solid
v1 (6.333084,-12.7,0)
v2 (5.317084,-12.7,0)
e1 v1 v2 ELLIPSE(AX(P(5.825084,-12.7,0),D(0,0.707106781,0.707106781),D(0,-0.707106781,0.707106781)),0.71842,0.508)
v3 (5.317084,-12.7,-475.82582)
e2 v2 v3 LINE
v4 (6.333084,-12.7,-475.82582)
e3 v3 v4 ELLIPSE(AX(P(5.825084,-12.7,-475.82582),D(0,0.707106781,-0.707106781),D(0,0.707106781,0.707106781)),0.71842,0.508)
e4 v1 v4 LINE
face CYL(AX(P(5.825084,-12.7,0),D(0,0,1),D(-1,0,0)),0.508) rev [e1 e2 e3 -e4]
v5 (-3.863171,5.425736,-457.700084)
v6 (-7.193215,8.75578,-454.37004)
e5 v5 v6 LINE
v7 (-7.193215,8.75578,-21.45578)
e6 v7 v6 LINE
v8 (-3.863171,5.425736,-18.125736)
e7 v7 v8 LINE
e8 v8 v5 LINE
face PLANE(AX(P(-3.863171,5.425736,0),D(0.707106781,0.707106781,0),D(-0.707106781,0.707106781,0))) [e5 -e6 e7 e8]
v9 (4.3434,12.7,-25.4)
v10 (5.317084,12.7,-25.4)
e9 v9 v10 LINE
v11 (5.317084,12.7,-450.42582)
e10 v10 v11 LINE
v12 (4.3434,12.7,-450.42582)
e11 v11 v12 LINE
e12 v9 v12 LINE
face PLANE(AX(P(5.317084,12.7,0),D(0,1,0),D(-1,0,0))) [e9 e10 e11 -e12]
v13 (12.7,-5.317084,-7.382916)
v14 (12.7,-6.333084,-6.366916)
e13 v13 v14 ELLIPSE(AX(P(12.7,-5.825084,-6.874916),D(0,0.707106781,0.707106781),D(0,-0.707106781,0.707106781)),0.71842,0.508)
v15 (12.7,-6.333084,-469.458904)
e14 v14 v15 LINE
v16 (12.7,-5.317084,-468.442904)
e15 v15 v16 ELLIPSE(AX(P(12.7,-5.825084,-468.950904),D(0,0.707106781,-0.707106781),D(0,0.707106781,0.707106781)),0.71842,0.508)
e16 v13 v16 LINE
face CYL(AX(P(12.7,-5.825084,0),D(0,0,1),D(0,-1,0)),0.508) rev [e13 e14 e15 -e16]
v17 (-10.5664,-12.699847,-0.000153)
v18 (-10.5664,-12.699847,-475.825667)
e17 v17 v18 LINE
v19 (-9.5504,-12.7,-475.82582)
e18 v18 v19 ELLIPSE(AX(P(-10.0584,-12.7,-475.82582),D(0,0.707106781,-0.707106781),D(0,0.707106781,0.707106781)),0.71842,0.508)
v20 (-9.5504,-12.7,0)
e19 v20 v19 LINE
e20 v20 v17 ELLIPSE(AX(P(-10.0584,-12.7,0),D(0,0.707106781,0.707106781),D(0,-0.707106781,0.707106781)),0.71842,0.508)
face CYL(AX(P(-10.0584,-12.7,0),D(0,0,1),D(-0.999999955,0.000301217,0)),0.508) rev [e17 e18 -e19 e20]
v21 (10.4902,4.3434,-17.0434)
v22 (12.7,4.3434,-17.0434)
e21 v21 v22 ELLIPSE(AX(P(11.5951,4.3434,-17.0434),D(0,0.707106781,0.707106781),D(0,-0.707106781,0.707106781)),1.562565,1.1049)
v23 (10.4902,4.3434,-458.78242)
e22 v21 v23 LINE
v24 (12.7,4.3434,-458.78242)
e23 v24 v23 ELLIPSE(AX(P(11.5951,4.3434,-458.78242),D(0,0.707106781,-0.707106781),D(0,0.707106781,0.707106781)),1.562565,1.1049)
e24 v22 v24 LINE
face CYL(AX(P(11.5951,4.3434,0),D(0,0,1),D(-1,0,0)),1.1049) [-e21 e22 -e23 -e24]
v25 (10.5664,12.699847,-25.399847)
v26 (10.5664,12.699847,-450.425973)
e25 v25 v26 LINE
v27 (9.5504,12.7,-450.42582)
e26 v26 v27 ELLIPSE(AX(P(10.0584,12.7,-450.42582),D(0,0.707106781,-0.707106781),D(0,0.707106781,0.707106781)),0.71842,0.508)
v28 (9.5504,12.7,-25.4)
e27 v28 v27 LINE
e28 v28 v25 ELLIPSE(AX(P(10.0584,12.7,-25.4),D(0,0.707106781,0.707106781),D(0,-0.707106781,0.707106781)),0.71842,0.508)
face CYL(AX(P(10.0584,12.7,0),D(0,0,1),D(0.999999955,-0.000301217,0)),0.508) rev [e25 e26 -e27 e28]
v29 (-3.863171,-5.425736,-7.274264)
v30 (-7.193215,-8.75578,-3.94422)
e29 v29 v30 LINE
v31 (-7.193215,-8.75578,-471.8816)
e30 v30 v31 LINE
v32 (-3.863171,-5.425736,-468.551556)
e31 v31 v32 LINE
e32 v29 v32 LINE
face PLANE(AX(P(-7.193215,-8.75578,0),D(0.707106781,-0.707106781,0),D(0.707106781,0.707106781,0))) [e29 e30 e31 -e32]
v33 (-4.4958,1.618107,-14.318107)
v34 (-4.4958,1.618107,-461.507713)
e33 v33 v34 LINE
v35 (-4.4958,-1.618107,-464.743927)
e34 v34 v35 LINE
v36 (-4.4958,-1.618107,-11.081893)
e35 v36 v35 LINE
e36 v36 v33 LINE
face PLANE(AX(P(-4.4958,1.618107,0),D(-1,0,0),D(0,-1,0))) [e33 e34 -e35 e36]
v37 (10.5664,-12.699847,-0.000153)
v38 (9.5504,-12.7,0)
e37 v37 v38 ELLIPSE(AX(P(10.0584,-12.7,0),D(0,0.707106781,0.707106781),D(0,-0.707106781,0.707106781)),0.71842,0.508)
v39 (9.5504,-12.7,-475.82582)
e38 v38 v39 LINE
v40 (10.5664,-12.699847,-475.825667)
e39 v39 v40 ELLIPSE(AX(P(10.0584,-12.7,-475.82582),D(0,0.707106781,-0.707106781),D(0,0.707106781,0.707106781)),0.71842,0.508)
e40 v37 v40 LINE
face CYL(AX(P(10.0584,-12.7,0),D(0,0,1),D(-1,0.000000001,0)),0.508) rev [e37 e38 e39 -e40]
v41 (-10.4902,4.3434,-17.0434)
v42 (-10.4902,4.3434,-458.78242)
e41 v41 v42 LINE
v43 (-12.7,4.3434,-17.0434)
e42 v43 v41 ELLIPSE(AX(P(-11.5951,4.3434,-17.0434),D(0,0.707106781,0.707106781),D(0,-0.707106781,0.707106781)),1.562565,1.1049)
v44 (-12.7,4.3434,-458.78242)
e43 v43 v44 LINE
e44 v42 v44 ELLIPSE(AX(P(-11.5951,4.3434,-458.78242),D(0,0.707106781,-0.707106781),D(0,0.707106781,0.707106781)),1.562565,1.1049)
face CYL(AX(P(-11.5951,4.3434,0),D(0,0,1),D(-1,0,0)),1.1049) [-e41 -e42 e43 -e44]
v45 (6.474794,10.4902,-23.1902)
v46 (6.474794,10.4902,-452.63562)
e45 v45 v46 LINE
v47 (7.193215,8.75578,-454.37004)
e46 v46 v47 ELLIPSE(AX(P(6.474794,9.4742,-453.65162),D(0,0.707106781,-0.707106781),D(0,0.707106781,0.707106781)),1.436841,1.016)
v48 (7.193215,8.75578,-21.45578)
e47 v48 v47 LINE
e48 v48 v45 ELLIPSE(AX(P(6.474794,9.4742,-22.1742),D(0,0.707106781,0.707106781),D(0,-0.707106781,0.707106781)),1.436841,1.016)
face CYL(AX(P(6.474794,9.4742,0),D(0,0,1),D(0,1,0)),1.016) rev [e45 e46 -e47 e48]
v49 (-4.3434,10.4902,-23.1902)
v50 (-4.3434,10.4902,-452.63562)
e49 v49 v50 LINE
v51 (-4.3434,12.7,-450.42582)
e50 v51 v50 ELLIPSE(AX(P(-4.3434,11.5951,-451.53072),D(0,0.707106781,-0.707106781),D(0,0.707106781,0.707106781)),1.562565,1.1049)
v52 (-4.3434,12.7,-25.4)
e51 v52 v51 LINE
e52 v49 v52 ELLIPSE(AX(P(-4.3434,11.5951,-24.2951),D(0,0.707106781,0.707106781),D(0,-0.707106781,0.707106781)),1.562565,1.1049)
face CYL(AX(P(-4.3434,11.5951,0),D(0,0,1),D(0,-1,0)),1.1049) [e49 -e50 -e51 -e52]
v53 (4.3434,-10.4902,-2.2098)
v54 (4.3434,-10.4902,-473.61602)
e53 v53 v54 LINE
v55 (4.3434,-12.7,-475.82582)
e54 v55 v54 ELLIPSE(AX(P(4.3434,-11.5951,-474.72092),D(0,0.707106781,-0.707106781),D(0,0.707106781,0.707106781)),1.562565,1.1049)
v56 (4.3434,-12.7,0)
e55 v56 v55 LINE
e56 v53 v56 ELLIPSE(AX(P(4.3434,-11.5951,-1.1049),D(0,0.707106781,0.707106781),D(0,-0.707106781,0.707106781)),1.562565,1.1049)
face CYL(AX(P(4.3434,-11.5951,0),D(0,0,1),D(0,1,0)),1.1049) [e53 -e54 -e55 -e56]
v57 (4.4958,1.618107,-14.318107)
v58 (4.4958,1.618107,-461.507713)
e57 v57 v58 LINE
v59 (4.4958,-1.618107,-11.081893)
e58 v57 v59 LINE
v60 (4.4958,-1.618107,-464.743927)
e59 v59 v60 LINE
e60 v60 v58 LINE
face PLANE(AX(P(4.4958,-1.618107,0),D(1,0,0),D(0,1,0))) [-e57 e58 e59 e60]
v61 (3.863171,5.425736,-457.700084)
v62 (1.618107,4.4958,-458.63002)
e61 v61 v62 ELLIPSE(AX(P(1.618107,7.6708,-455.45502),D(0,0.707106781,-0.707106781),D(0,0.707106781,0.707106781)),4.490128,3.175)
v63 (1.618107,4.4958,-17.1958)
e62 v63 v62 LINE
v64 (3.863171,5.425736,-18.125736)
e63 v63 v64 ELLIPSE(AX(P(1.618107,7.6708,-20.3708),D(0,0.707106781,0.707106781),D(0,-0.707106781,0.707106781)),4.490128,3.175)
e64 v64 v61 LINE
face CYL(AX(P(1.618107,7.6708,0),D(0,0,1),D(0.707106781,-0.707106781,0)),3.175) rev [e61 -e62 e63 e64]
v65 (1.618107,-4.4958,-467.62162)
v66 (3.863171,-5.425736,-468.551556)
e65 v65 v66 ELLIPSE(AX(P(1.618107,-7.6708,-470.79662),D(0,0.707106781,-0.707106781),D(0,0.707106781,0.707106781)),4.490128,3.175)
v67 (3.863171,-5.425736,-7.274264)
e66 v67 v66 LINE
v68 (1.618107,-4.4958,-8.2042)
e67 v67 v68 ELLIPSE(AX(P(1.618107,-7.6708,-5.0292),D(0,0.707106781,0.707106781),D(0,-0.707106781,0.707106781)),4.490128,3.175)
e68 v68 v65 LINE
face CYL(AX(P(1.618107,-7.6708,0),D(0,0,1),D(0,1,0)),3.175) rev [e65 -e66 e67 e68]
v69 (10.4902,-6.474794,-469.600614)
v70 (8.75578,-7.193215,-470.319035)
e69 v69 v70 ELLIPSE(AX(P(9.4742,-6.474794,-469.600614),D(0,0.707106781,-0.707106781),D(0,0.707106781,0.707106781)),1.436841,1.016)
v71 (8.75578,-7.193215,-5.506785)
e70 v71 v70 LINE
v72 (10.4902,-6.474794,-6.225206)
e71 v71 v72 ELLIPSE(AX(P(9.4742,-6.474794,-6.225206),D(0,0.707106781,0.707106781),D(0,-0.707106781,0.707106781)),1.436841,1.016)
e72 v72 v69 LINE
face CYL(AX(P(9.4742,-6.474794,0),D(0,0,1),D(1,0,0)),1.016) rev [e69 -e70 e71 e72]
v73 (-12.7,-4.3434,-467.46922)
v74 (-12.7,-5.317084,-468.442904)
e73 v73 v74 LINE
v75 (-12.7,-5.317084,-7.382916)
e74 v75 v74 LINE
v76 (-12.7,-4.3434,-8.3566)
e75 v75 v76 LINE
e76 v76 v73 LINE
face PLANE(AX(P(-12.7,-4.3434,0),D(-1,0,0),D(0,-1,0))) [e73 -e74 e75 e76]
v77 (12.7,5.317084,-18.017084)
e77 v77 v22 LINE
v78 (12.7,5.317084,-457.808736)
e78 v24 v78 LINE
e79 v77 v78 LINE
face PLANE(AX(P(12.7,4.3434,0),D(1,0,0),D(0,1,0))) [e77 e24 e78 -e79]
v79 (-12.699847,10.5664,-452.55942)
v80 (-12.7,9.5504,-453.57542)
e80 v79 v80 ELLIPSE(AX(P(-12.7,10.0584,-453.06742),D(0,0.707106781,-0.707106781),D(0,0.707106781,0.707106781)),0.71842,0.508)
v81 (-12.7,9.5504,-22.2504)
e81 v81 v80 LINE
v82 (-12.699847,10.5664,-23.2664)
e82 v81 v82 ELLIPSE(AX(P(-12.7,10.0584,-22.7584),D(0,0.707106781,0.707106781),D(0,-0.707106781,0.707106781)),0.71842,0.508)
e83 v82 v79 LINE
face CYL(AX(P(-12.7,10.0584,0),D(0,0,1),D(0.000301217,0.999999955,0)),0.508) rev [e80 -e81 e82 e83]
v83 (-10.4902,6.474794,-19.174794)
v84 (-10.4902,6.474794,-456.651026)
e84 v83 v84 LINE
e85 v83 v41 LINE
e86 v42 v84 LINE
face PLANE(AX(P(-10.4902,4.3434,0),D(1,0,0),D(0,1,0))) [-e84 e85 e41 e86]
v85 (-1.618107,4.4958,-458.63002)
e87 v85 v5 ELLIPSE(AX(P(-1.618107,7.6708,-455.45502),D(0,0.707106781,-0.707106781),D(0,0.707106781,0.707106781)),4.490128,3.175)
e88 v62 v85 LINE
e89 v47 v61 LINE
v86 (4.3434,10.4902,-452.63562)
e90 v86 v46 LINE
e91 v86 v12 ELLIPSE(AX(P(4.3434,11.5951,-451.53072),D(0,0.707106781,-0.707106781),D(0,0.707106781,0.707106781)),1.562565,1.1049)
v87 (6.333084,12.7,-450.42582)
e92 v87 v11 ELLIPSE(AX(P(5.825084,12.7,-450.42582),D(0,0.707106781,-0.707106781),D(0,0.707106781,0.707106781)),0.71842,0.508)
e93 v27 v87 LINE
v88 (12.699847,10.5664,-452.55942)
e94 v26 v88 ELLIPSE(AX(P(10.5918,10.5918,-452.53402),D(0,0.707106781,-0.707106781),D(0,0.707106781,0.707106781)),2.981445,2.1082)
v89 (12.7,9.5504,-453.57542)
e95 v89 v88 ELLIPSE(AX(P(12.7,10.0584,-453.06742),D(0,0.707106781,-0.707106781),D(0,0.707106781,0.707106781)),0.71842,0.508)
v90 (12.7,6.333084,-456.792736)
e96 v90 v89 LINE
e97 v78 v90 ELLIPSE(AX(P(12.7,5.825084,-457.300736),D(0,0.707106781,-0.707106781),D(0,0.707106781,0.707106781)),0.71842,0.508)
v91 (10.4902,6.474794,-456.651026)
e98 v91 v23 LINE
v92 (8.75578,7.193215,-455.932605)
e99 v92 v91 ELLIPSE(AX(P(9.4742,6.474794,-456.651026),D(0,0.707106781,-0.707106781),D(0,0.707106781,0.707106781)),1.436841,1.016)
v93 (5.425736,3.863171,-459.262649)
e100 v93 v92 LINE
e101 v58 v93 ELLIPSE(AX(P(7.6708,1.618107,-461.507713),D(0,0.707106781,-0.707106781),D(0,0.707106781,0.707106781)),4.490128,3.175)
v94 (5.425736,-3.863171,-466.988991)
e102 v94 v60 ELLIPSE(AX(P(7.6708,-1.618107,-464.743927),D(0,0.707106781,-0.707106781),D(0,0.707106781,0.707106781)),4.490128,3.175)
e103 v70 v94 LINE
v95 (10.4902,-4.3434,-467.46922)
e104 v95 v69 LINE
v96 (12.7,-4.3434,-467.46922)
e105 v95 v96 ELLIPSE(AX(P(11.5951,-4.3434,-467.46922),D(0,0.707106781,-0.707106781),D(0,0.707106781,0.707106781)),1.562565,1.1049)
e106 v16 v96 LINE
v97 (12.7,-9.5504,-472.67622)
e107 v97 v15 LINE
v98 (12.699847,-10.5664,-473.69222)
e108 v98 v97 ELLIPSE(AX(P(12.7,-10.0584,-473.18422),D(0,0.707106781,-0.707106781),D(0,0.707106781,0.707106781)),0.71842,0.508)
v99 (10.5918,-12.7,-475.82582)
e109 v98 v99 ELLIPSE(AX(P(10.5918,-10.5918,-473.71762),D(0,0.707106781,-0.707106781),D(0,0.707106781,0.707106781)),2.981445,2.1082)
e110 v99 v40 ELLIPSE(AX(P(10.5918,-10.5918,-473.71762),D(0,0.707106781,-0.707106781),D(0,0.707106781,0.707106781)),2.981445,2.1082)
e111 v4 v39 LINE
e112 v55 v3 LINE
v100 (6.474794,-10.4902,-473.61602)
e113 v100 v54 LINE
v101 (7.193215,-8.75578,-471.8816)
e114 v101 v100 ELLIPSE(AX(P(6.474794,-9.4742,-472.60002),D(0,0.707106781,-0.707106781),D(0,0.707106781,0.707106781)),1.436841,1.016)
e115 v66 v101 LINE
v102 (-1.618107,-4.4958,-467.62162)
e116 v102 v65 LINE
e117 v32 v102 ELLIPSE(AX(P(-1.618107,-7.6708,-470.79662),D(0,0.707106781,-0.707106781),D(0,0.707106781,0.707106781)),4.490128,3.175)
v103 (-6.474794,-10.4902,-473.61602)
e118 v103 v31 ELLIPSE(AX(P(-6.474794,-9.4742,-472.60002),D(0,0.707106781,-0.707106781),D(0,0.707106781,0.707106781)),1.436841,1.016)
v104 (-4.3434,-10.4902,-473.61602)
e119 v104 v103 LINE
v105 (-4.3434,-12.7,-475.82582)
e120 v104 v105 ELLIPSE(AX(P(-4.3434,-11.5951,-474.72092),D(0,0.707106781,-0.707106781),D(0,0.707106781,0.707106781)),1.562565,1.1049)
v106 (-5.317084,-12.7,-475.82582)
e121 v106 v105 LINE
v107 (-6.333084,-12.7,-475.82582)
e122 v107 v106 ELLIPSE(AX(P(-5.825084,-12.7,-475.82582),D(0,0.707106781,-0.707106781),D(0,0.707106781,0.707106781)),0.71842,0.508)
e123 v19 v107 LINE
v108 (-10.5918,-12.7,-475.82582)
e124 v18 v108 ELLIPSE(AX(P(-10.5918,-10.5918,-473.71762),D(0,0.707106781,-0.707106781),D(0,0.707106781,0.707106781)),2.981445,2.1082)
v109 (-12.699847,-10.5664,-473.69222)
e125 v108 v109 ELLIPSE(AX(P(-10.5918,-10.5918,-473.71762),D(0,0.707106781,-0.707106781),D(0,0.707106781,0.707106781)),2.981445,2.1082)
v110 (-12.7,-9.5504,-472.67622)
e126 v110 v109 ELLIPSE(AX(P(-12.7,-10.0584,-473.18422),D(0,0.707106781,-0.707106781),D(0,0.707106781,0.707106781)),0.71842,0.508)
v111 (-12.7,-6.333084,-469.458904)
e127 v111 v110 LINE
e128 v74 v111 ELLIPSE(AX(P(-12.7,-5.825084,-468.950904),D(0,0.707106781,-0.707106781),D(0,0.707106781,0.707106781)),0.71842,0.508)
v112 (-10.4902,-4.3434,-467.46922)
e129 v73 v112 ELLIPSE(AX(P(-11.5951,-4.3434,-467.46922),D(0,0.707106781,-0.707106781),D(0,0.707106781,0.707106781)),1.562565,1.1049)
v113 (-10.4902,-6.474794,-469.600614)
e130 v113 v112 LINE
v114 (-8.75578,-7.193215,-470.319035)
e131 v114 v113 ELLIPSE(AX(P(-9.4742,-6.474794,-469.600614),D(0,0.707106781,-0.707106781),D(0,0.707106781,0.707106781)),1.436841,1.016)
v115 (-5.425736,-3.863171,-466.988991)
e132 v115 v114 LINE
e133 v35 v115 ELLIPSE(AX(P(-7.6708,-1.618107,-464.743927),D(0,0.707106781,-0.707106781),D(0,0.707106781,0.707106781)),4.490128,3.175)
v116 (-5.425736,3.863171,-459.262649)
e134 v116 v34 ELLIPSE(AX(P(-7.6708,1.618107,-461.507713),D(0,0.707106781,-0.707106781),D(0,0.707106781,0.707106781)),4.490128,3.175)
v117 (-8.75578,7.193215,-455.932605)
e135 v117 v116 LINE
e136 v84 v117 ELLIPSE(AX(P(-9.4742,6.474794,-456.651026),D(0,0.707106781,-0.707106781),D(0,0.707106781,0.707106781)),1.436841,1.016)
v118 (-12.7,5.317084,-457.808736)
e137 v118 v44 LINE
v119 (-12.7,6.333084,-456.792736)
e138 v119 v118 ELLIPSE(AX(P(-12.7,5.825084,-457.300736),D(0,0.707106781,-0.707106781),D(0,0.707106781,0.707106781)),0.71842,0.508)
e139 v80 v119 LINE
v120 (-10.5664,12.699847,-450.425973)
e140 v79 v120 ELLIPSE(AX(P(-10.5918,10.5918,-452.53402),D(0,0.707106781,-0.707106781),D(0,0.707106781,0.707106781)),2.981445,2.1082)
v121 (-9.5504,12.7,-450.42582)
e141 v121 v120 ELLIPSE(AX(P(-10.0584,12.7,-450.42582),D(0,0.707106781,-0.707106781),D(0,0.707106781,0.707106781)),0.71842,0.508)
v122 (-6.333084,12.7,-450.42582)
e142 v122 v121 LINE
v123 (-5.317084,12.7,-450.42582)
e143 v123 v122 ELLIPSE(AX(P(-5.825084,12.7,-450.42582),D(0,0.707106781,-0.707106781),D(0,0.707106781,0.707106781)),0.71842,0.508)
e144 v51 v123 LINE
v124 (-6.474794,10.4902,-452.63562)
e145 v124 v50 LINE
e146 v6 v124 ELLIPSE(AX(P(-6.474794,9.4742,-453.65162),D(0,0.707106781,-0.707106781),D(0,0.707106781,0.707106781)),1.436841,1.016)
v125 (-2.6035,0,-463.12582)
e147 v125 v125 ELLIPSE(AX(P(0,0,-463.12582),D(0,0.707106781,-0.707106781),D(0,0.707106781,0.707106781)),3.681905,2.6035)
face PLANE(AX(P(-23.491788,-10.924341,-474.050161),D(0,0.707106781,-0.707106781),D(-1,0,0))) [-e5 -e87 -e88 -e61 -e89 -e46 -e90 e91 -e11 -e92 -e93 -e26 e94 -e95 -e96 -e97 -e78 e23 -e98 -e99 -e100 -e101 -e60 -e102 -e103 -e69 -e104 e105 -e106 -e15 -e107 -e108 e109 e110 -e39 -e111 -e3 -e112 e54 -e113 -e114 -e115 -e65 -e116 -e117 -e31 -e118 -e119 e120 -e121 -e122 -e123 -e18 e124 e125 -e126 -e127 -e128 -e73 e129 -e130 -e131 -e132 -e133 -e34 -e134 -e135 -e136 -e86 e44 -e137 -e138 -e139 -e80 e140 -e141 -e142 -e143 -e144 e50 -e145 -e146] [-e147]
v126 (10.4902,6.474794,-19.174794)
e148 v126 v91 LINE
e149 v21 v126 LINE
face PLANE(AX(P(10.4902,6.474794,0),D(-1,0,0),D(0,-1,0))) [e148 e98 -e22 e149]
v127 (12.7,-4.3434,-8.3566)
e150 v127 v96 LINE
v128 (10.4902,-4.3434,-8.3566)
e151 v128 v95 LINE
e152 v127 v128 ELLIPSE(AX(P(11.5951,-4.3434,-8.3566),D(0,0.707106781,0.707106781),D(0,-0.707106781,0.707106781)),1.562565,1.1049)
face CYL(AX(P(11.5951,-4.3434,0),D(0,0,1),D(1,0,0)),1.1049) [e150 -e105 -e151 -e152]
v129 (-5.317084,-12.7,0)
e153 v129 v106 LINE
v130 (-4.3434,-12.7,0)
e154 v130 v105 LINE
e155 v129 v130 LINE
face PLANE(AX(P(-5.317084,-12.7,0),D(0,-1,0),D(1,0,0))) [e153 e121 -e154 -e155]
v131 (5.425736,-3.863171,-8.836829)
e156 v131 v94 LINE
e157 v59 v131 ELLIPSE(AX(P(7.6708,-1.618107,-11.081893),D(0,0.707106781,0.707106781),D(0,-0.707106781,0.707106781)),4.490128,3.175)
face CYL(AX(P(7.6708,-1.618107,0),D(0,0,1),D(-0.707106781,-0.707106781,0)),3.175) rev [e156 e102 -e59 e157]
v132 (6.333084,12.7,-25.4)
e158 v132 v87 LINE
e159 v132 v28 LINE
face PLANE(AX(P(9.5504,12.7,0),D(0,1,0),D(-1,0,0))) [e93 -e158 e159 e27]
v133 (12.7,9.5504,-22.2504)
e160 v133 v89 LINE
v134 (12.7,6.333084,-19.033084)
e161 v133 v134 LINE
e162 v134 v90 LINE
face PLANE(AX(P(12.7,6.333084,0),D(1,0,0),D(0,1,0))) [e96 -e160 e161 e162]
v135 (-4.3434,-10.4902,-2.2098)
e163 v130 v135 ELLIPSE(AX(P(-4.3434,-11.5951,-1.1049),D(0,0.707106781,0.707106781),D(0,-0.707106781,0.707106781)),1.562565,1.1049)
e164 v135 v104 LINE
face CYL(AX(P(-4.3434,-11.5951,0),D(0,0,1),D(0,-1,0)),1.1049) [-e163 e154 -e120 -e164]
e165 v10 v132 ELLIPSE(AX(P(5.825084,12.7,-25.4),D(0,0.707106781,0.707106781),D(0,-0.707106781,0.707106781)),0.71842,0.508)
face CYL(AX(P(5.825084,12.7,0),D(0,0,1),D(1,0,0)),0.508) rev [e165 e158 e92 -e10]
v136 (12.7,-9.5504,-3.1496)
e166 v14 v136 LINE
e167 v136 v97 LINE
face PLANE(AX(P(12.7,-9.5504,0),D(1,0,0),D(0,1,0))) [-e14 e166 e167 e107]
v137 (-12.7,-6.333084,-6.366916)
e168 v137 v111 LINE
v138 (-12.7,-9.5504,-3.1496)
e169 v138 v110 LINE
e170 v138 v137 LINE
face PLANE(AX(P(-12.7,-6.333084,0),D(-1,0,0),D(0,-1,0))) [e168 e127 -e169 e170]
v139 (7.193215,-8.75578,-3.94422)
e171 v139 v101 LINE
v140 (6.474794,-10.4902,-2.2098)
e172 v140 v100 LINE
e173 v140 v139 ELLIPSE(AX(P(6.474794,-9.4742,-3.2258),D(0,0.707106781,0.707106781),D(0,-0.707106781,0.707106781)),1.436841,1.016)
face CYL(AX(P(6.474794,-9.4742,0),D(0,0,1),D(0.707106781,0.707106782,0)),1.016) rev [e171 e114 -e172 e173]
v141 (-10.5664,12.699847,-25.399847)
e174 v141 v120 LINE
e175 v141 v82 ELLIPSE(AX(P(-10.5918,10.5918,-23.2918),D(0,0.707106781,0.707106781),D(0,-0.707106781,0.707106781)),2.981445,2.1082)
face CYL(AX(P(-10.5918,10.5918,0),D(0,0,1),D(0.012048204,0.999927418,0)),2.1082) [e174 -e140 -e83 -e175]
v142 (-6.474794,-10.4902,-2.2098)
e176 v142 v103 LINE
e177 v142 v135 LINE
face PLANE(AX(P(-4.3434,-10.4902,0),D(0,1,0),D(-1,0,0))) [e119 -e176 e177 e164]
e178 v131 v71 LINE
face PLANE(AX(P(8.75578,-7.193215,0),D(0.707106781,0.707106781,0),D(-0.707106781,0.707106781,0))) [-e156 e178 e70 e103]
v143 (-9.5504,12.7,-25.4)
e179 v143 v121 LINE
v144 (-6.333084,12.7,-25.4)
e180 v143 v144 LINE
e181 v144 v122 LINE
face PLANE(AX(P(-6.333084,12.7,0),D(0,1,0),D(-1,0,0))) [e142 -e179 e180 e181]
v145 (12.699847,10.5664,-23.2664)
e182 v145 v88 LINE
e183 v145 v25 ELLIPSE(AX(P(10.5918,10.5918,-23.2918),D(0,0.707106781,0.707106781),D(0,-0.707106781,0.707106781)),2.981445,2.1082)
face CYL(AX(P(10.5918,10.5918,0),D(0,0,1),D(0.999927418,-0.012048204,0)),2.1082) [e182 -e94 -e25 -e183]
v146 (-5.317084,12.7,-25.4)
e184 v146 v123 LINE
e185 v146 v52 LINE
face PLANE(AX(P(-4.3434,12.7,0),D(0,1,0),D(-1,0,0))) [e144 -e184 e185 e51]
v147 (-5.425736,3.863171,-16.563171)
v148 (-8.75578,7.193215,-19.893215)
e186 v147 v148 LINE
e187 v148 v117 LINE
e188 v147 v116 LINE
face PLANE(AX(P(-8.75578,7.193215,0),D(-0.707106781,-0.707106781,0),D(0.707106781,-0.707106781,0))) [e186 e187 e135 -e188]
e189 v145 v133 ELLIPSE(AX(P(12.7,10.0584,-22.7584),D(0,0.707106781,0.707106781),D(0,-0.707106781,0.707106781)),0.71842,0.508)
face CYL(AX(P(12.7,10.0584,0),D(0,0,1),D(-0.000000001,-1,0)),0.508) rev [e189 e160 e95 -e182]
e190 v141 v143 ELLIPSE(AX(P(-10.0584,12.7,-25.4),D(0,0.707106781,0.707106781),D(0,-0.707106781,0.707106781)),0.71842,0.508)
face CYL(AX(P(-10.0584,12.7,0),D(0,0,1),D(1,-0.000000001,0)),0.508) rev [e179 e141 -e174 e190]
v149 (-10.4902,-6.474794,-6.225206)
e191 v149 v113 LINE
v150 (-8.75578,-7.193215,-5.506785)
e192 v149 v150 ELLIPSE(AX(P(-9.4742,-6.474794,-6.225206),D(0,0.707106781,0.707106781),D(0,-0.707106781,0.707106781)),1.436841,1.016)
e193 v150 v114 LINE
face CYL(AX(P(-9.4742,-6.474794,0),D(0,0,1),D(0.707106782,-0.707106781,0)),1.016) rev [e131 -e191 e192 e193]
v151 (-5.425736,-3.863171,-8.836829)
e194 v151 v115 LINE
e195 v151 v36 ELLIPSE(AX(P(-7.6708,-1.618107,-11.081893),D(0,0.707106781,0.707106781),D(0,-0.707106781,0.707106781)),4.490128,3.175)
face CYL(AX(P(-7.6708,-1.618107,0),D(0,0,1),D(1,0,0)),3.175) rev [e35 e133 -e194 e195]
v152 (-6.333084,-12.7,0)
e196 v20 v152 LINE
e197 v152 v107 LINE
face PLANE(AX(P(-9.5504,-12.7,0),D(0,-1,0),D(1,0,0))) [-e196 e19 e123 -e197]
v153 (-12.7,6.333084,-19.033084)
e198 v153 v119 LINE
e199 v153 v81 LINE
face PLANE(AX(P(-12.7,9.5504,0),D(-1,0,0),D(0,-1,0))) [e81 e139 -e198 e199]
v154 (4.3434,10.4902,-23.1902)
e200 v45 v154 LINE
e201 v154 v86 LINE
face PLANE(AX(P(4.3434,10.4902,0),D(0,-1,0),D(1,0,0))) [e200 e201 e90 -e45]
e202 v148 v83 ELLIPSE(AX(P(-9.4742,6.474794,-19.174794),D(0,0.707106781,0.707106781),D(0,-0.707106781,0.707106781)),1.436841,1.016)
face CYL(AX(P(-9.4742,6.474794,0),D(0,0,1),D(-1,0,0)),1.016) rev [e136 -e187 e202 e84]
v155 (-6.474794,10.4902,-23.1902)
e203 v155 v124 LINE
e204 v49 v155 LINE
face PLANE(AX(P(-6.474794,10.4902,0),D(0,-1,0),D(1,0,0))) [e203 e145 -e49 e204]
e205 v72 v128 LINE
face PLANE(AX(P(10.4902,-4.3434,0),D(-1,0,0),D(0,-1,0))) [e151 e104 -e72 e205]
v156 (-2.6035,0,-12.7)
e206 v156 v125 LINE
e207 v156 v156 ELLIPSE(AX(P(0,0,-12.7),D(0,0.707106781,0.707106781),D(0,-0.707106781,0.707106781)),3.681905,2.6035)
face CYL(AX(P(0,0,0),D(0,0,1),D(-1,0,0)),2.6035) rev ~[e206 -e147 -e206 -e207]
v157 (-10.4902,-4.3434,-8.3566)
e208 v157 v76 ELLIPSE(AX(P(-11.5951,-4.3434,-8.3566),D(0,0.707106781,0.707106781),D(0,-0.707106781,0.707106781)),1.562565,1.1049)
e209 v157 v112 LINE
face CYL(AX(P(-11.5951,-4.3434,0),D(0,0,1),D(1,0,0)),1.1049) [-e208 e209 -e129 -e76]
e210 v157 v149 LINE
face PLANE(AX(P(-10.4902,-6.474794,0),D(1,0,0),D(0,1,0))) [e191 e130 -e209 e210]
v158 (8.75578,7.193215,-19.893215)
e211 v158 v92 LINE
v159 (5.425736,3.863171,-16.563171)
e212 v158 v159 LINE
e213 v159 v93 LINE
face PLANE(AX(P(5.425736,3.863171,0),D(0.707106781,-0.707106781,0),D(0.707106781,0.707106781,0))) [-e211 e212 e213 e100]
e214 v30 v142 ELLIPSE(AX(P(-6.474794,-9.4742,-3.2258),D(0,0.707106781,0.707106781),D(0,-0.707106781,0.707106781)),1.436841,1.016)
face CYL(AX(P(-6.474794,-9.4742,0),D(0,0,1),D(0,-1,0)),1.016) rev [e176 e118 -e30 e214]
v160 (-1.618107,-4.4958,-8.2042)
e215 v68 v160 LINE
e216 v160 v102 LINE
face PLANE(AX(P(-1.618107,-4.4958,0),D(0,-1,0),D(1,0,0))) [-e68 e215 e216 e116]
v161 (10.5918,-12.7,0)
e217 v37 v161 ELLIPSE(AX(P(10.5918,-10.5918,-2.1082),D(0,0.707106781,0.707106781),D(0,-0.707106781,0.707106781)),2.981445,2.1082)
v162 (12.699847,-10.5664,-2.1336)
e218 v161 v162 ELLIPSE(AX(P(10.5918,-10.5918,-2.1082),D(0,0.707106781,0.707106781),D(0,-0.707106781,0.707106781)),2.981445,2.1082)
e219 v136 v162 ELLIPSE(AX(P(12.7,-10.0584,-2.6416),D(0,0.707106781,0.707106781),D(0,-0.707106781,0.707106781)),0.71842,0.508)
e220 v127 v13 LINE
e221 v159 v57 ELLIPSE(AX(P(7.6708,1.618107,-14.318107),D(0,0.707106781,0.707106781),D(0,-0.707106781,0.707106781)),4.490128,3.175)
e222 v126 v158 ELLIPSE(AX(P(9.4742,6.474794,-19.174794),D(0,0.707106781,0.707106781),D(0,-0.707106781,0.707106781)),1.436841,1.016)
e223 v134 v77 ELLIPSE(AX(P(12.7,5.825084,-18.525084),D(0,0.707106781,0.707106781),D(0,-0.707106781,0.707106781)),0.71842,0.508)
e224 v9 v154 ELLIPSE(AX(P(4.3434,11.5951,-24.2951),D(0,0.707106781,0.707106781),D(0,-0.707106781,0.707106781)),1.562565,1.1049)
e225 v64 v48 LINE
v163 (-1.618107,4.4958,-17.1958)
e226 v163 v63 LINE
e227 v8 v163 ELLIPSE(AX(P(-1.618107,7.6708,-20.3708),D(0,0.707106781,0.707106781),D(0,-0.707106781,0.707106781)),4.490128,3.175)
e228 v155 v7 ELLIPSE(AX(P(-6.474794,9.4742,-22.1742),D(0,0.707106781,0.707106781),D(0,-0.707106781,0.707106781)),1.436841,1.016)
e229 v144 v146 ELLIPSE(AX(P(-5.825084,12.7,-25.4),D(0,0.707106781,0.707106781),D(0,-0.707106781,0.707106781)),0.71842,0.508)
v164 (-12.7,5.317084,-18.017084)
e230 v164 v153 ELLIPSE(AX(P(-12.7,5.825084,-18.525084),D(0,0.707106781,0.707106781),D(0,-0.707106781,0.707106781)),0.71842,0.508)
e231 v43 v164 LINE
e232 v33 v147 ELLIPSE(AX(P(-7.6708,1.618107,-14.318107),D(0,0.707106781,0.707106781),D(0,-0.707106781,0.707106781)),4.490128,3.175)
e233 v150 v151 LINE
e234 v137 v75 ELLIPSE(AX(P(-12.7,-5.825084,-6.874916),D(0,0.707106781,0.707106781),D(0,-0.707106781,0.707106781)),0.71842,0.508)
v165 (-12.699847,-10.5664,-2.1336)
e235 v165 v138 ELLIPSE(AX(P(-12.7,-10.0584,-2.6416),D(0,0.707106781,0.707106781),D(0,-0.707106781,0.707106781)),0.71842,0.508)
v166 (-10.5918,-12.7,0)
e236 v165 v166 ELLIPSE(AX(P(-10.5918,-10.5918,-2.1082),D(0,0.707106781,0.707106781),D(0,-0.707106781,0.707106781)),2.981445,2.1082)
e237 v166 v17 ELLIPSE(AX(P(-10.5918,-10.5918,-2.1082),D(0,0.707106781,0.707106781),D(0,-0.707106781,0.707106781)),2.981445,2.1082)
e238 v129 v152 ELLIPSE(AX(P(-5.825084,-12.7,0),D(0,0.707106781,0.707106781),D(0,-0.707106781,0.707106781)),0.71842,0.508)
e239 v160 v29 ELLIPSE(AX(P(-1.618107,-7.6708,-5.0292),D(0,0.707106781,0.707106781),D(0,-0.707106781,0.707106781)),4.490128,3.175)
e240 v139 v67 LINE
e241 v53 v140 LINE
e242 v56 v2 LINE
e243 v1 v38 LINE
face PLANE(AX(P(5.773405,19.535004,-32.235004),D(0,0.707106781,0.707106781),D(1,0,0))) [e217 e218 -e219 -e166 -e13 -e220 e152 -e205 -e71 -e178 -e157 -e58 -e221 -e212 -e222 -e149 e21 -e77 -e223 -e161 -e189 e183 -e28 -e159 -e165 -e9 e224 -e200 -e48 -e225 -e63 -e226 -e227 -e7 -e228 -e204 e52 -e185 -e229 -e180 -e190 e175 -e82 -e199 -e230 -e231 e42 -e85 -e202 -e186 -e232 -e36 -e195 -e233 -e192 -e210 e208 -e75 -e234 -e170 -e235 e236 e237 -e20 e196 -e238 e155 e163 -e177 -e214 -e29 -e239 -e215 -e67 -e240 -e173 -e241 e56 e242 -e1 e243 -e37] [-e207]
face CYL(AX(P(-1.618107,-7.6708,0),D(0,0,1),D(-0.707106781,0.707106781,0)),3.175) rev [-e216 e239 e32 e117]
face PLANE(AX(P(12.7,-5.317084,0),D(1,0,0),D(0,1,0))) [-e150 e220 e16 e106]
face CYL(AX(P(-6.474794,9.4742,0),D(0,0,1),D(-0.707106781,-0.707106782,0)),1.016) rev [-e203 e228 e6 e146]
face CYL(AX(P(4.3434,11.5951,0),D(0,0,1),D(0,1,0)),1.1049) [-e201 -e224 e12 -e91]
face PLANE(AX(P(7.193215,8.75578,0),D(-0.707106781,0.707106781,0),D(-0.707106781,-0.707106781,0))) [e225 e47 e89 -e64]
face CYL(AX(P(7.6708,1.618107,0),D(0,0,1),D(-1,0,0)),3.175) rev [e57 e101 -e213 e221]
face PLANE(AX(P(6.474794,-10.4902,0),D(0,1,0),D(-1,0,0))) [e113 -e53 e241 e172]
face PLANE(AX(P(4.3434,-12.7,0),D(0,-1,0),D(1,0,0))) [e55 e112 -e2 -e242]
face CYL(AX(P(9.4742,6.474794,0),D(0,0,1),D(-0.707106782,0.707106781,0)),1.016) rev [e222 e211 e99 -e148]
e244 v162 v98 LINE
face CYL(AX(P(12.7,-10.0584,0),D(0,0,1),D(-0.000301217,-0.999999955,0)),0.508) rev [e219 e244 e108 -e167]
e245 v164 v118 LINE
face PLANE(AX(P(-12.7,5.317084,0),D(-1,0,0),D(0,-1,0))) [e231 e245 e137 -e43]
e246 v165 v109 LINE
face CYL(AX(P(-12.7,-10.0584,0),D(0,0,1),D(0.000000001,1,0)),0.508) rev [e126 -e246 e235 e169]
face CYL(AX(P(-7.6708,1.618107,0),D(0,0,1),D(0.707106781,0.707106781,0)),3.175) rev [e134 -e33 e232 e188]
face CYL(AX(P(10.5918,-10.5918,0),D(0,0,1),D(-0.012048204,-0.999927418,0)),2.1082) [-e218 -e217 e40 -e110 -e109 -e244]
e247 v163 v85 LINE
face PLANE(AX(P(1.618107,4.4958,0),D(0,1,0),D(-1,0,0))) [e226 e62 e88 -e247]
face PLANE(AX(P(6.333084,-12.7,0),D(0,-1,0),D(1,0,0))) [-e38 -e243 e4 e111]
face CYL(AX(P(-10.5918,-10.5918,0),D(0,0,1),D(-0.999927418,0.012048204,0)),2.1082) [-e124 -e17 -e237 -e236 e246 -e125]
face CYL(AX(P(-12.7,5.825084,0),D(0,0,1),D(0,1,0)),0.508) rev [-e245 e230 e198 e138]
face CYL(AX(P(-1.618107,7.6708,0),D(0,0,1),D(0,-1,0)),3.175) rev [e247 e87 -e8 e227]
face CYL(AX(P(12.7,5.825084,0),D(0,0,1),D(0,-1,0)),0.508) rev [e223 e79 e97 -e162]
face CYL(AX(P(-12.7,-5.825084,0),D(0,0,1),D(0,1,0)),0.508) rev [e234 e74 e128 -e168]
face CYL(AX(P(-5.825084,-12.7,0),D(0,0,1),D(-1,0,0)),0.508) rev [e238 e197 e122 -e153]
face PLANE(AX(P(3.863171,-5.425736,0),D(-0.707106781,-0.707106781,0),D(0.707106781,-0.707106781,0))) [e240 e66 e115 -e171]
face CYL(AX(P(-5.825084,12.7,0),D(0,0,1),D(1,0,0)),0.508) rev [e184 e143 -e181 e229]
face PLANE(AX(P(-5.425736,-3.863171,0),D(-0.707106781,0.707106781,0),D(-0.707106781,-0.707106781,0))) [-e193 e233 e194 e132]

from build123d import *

# Parameters (mm, degrees)
SKETCH1_R           = 2.6035
BOSS_EXTRUDE1_DEPTH = 475.82582
SKETCH2_W           = 64.104709227
SKETCH2_H           = 106.42431428
CUT_EXTRUDE1_DEPTH  = 27.94
SKETCH3_W           = 131.394745622
SKETCH3_H           = 146.966910197
CUT_EXTRUDE2_DEPTH  = 24.638


with BuildPart() as part:
    # Sketch1 → Boss-Extrude1 (new body)
    with BuildSketch(Plane.XY):
        with BuildLine():
            Line((-12.7, -6.3330836), (-12.7, -9.5504))
            ThreePointArc((-12.7, -9.5504), (-12.192000006, -10.058323491), (-12.699846982, -10.566399977))
            ThreePointArc((-12.699846982, -10.566399977), (-12.082522516, -12.082522516), (-10.566399977, -12.699846982))
            ThreePointArc((-10.566399977, -12.699846982), (-10.058323491, -12.192000006), (-9.5504, -12.7))
            Line((-9.5504, -12.7), (-6.3330836, -12.7))
            ThreePointArc((-6.3330836, -12.7), (-5.8250836, -12.192), (-5.3170836, -12.7))
            Line((-5.3170836, -12.7), (-4.343399971, -12.7))
            ThreePointArc((-4.343399971, -12.7), (-3.238499971, -11.5951), (-4.343399971, -10.4902))
            Line((-4.343399971, -10.4902), (-6.474794456, -10.4902))
            ThreePointArc((-6.474794456, -10.4902), (-7.413456061, -9.863006367), (-7.193214945, -8.75577951))
            Line((-7.193214945, -8.75577951), (-3.863171405, -5.42573597))
            ThreePointArc((-3.863171405, -5.42573597), (-2.833127272, -4.737482484), (-1.618107374, -4.4958))
            Line((-1.618107374, -4.4958), (1.618107374, -4.4958))
            ThreePointArc((1.618107374, -4.4958), (2.833127272, -4.737482484), (3.863171405, -5.42573597))
            Line((3.863171405, -5.42573597), (7.193214945, -8.75577951))
            ThreePointArc((7.193214945, -8.75577951), (7.413456061, -9.863006367), (6.474794456, -10.4902))
            Line((6.474794456, -10.4902), (4.3434, -10.4902))
            ThreePointArc((4.3434, -10.4902), (3.2385, -11.5951), (4.3434, -12.7))
            Line((4.3434, -12.7), (5.3170836, -12.7))
            ThreePointArc((5.3170836, -12.7), (5.8250836, -12.192), (6.3330836, -12.7))
            Line((6.3330836, -12.7), (9.5504, -12.7))
            ThreePointArc((9.5504, -12.7), (10.058323491, -12.192000006), (10.566399977, -12.699846982))
            ThreePointArc((10.566399977, -12.699846982), (12.082522516, -12.082522516), (12.699846982, -10.566399977))
            ThreePointArc((12.699846982, -10.566399977), (12.192000006, -10.058323491), (12.7, -9.5504))
            Line((12.7, -9.5504), (12.7, -6.3330836))
            ThreePointArc((12.7, -6.3330836), (12.192, -5.8250836), (12.7, -5.3170836))
            Line((12.7, -5.3170836), (12.7, -4.343399971))
            ThreePointArc((12.7, -4.343399971), (11.5951, -3.238499971), (10.4902, -4.343399971))
            Line((10.4902, -4.343399971), (10.4902, -6.474794456))
            ThreePointArc((10.4902, -6.474794456), (9.863006367, -7.413456061), (8.75577951, -7.193214945))
            Line((8.75577951, -7.193214945), (5.42573597, -3.863171405))
            ThreePointArc((5.42573597, -3.863171405), (4.737482484, -2.833127272), (4.4958, -1.618107374))
            Line((4.4958, -1.618107374), (4.4958, 1.618107374))
            ThreePointArc((4.4958, 1.618107374), (4.737482484, 2.833127272), (5.42573597, 3.863171405))
            Line((5.42573597, 3.863171405), (8.75577951, 7.193214945))
            ThreePointArc((8.75577951, 7.193214945), (9.863006367, 7.413456061), (10.4902, 6.474794456))
            Line((10.4902, 6.474794456), (10.4902, 4.3434))
            ThreePointArc((10.4902, 4.3434), (11.5951, 3.2385), (12.7, 4.3434))
            Line((12.7, 4.3434), (12.7, 5.3170836))
            ThreePointArc((12.7, 5.3170836), (12.192, 5.8250836), (12.7, 6.3330836))
            Line((12.7, 6.3330836), (12.7, 9.5504))
            ThreePointArc((12.7, 9.5504), (12.192000006, 10.058323491), (12.699846982, 10.566399977))
            ThreePointArc((12.699846982, 10.566399977), (12.082522516, 12.082522516), (10.566399977, 12.699846982))
            ThreePointArc((10.566399977, 12.699846982), (10.058323491, 12.192000006), (9.5504, 12.7))
            Line((9.5504, 12.7), (6.3330836, 12.7))
            ThreePointArc((6.3330836, 12.7), (5.8250836, 12.192), (5.3170836, 12.7))
            Line((5.3170836, 12.7), (4.343399971, 12.7))
            ThreePointArc((4.343399971, 12.7), (3.238499971, 11.5951), (4.343399971, 10.4902))
            Line((4.343399971, 10.4902), (6.474794456, 10.4902))
            ThreePointArc((6.474794456, 10.4902), (7.413456061, 9.863006367), (7.193214945, 8.75577951))
            Line((7.193214945, 8.75577951), (3.863171405, 5.42573597))
            ThreePointArc((3.863171405, 5.42573597), (2.833127272, 4.737482484), (1.618107374, 4.4958))
            Line((1.618107374, 4.4958), (-1.618107374, 4.4958))
            ThreePointArc((-1.618107374, 4.4958), (-2.833127272, 4.737482484), (-3.863171405, 5.42573597))
            Line((-3.863171405, 5.42573597), (-7.193214945, 8.75577951))
            ThreePointArc((-7.193214945, 8.75577951), (-7.413456061, 9.863006367), (-6.474794456, 10.4902))
            Line((-6.474794456, 10.4902), (-4.3434, 10.4902))
            ThreePointArc((-4.3434, 10.4902), (-3.2385, 11.5951), (-4.3434, 12.7))
            Line((-4.3434, 12.7), (-5.3170836, 12.7))
            ThreePointArc((-5.3170836, 12.7), (-5.8250836, 12.192), (-6.3330836, 12.7))
            Line((-6.3330836, 12.7), (-9.5504, 12.7))
            ThreePointArc((-9.5504, 12.7), (-10.058323491, 12.192000006), (-10.566399977, 12.699846982))
            ThreePointArc((-10.566399977, 12.699846982), (-12.082522516, 12.082522516), (-12.699846982, 10.566399977))
            ThreePointArc((-12.699846982, 10.566399977), (-12.192000006, 10.058323491), (-12.7, 9.5504))
            Line((-12.7, 9.5504), (-12.7, 6.3330836))
            ThreePointArc((-12.7, 6.3330836), (-12.192, 5.8250836), (-12.7, 5.3170836))
            Line((-12.7, 5.3170836), (-12.7, 4.343399971))
            ThreePointArc((-12.7, 4.343399971), (-11.5951, 3.238499971), (-10.4902, 4.343399971))
            Line((-10.4902, 4.343399971), (-10.4902, 6.474794456))
            ThreePointArc((-10.4902, 6.474794456), (-9.863006367, 7.413456061), (-8.75577951, 7.193214945))
            Line((-8.75577951, 7.193214945), (-5.42573597, 3.863171405))
            ThreePointArc((-5.42573597, 3.863171405), (-4.737482484, 2.833127272), (-4.4958, 1.618107374))
            Line((-4.4958, 1.618107374), (-4.4958, -1.618107374))
            ThreePointArc((-4.4958, -1.618107374), (-4.737482484, -2.833127272), (-5.42573597, -3.863171405))
            Line((-5.42573597, -3.863171405), (-8.75577951, -7.193214945))
            ThreePointArc((-8.75577951, -7.193214945), (-9.863006367, -7.413456061), (-10.4902, -6.474794456))
            Line((-10.4902, -6.474794456), (-10.4902, -4.3434))
            ThreePointArc((-10.4902, -4.3434), (-11.5951, -3.2385), (-12.7, -4.3434))
            Line((-12.7, -4.3434), (-12.7, -5.3170836))
            ThreePointArc((-12.7, -5.3170836), (-12.192, -5.8250836), (-12.7, -6.3330836))
        make_face()
        with Locations(Location((0, 0, 0), (0, 0, 180))):
            Circle(SKETCH1_R, mode=Mode.SUBTRACT)
    extrude(amount=-BOSS_EXTRUDE1_DEPTH)

    # Sketch2 → Cut-Extrude1 (cut)
    with BuildSketch(Plane(origin=(0, -6.35, -6.35), x_dir=(1, 0, 0), z_dir=(0, 0.7071067811865475, 0.7071067811865477))):
        with Locations((5.773405489, 36.606923958)):
            Rectangle(SKETCH2_W, SKETCH2_H)
    extrude(amount=CUT_EXTRUDE1_DEPTH, mode=Mode.SUBTRACT)

    # Sketch3 → Cut-Extrude2 (cut)
    with BuildSketch(Plane(origin=(0, 231.56291, -231.56291), x_dir=(-1, 0, 0), z_dir=(0, 0.7071067811865475, -0.7071067811865477))):
        with Locations((23.491787854, -342.928759771)):
            Rectangle(SKETCH3_W, SKETCH3_H)
    extrude(amount=CUT_EXTRUDE2_DEPTH, mode=Mode.SUBTRACT)


solid = part.part
